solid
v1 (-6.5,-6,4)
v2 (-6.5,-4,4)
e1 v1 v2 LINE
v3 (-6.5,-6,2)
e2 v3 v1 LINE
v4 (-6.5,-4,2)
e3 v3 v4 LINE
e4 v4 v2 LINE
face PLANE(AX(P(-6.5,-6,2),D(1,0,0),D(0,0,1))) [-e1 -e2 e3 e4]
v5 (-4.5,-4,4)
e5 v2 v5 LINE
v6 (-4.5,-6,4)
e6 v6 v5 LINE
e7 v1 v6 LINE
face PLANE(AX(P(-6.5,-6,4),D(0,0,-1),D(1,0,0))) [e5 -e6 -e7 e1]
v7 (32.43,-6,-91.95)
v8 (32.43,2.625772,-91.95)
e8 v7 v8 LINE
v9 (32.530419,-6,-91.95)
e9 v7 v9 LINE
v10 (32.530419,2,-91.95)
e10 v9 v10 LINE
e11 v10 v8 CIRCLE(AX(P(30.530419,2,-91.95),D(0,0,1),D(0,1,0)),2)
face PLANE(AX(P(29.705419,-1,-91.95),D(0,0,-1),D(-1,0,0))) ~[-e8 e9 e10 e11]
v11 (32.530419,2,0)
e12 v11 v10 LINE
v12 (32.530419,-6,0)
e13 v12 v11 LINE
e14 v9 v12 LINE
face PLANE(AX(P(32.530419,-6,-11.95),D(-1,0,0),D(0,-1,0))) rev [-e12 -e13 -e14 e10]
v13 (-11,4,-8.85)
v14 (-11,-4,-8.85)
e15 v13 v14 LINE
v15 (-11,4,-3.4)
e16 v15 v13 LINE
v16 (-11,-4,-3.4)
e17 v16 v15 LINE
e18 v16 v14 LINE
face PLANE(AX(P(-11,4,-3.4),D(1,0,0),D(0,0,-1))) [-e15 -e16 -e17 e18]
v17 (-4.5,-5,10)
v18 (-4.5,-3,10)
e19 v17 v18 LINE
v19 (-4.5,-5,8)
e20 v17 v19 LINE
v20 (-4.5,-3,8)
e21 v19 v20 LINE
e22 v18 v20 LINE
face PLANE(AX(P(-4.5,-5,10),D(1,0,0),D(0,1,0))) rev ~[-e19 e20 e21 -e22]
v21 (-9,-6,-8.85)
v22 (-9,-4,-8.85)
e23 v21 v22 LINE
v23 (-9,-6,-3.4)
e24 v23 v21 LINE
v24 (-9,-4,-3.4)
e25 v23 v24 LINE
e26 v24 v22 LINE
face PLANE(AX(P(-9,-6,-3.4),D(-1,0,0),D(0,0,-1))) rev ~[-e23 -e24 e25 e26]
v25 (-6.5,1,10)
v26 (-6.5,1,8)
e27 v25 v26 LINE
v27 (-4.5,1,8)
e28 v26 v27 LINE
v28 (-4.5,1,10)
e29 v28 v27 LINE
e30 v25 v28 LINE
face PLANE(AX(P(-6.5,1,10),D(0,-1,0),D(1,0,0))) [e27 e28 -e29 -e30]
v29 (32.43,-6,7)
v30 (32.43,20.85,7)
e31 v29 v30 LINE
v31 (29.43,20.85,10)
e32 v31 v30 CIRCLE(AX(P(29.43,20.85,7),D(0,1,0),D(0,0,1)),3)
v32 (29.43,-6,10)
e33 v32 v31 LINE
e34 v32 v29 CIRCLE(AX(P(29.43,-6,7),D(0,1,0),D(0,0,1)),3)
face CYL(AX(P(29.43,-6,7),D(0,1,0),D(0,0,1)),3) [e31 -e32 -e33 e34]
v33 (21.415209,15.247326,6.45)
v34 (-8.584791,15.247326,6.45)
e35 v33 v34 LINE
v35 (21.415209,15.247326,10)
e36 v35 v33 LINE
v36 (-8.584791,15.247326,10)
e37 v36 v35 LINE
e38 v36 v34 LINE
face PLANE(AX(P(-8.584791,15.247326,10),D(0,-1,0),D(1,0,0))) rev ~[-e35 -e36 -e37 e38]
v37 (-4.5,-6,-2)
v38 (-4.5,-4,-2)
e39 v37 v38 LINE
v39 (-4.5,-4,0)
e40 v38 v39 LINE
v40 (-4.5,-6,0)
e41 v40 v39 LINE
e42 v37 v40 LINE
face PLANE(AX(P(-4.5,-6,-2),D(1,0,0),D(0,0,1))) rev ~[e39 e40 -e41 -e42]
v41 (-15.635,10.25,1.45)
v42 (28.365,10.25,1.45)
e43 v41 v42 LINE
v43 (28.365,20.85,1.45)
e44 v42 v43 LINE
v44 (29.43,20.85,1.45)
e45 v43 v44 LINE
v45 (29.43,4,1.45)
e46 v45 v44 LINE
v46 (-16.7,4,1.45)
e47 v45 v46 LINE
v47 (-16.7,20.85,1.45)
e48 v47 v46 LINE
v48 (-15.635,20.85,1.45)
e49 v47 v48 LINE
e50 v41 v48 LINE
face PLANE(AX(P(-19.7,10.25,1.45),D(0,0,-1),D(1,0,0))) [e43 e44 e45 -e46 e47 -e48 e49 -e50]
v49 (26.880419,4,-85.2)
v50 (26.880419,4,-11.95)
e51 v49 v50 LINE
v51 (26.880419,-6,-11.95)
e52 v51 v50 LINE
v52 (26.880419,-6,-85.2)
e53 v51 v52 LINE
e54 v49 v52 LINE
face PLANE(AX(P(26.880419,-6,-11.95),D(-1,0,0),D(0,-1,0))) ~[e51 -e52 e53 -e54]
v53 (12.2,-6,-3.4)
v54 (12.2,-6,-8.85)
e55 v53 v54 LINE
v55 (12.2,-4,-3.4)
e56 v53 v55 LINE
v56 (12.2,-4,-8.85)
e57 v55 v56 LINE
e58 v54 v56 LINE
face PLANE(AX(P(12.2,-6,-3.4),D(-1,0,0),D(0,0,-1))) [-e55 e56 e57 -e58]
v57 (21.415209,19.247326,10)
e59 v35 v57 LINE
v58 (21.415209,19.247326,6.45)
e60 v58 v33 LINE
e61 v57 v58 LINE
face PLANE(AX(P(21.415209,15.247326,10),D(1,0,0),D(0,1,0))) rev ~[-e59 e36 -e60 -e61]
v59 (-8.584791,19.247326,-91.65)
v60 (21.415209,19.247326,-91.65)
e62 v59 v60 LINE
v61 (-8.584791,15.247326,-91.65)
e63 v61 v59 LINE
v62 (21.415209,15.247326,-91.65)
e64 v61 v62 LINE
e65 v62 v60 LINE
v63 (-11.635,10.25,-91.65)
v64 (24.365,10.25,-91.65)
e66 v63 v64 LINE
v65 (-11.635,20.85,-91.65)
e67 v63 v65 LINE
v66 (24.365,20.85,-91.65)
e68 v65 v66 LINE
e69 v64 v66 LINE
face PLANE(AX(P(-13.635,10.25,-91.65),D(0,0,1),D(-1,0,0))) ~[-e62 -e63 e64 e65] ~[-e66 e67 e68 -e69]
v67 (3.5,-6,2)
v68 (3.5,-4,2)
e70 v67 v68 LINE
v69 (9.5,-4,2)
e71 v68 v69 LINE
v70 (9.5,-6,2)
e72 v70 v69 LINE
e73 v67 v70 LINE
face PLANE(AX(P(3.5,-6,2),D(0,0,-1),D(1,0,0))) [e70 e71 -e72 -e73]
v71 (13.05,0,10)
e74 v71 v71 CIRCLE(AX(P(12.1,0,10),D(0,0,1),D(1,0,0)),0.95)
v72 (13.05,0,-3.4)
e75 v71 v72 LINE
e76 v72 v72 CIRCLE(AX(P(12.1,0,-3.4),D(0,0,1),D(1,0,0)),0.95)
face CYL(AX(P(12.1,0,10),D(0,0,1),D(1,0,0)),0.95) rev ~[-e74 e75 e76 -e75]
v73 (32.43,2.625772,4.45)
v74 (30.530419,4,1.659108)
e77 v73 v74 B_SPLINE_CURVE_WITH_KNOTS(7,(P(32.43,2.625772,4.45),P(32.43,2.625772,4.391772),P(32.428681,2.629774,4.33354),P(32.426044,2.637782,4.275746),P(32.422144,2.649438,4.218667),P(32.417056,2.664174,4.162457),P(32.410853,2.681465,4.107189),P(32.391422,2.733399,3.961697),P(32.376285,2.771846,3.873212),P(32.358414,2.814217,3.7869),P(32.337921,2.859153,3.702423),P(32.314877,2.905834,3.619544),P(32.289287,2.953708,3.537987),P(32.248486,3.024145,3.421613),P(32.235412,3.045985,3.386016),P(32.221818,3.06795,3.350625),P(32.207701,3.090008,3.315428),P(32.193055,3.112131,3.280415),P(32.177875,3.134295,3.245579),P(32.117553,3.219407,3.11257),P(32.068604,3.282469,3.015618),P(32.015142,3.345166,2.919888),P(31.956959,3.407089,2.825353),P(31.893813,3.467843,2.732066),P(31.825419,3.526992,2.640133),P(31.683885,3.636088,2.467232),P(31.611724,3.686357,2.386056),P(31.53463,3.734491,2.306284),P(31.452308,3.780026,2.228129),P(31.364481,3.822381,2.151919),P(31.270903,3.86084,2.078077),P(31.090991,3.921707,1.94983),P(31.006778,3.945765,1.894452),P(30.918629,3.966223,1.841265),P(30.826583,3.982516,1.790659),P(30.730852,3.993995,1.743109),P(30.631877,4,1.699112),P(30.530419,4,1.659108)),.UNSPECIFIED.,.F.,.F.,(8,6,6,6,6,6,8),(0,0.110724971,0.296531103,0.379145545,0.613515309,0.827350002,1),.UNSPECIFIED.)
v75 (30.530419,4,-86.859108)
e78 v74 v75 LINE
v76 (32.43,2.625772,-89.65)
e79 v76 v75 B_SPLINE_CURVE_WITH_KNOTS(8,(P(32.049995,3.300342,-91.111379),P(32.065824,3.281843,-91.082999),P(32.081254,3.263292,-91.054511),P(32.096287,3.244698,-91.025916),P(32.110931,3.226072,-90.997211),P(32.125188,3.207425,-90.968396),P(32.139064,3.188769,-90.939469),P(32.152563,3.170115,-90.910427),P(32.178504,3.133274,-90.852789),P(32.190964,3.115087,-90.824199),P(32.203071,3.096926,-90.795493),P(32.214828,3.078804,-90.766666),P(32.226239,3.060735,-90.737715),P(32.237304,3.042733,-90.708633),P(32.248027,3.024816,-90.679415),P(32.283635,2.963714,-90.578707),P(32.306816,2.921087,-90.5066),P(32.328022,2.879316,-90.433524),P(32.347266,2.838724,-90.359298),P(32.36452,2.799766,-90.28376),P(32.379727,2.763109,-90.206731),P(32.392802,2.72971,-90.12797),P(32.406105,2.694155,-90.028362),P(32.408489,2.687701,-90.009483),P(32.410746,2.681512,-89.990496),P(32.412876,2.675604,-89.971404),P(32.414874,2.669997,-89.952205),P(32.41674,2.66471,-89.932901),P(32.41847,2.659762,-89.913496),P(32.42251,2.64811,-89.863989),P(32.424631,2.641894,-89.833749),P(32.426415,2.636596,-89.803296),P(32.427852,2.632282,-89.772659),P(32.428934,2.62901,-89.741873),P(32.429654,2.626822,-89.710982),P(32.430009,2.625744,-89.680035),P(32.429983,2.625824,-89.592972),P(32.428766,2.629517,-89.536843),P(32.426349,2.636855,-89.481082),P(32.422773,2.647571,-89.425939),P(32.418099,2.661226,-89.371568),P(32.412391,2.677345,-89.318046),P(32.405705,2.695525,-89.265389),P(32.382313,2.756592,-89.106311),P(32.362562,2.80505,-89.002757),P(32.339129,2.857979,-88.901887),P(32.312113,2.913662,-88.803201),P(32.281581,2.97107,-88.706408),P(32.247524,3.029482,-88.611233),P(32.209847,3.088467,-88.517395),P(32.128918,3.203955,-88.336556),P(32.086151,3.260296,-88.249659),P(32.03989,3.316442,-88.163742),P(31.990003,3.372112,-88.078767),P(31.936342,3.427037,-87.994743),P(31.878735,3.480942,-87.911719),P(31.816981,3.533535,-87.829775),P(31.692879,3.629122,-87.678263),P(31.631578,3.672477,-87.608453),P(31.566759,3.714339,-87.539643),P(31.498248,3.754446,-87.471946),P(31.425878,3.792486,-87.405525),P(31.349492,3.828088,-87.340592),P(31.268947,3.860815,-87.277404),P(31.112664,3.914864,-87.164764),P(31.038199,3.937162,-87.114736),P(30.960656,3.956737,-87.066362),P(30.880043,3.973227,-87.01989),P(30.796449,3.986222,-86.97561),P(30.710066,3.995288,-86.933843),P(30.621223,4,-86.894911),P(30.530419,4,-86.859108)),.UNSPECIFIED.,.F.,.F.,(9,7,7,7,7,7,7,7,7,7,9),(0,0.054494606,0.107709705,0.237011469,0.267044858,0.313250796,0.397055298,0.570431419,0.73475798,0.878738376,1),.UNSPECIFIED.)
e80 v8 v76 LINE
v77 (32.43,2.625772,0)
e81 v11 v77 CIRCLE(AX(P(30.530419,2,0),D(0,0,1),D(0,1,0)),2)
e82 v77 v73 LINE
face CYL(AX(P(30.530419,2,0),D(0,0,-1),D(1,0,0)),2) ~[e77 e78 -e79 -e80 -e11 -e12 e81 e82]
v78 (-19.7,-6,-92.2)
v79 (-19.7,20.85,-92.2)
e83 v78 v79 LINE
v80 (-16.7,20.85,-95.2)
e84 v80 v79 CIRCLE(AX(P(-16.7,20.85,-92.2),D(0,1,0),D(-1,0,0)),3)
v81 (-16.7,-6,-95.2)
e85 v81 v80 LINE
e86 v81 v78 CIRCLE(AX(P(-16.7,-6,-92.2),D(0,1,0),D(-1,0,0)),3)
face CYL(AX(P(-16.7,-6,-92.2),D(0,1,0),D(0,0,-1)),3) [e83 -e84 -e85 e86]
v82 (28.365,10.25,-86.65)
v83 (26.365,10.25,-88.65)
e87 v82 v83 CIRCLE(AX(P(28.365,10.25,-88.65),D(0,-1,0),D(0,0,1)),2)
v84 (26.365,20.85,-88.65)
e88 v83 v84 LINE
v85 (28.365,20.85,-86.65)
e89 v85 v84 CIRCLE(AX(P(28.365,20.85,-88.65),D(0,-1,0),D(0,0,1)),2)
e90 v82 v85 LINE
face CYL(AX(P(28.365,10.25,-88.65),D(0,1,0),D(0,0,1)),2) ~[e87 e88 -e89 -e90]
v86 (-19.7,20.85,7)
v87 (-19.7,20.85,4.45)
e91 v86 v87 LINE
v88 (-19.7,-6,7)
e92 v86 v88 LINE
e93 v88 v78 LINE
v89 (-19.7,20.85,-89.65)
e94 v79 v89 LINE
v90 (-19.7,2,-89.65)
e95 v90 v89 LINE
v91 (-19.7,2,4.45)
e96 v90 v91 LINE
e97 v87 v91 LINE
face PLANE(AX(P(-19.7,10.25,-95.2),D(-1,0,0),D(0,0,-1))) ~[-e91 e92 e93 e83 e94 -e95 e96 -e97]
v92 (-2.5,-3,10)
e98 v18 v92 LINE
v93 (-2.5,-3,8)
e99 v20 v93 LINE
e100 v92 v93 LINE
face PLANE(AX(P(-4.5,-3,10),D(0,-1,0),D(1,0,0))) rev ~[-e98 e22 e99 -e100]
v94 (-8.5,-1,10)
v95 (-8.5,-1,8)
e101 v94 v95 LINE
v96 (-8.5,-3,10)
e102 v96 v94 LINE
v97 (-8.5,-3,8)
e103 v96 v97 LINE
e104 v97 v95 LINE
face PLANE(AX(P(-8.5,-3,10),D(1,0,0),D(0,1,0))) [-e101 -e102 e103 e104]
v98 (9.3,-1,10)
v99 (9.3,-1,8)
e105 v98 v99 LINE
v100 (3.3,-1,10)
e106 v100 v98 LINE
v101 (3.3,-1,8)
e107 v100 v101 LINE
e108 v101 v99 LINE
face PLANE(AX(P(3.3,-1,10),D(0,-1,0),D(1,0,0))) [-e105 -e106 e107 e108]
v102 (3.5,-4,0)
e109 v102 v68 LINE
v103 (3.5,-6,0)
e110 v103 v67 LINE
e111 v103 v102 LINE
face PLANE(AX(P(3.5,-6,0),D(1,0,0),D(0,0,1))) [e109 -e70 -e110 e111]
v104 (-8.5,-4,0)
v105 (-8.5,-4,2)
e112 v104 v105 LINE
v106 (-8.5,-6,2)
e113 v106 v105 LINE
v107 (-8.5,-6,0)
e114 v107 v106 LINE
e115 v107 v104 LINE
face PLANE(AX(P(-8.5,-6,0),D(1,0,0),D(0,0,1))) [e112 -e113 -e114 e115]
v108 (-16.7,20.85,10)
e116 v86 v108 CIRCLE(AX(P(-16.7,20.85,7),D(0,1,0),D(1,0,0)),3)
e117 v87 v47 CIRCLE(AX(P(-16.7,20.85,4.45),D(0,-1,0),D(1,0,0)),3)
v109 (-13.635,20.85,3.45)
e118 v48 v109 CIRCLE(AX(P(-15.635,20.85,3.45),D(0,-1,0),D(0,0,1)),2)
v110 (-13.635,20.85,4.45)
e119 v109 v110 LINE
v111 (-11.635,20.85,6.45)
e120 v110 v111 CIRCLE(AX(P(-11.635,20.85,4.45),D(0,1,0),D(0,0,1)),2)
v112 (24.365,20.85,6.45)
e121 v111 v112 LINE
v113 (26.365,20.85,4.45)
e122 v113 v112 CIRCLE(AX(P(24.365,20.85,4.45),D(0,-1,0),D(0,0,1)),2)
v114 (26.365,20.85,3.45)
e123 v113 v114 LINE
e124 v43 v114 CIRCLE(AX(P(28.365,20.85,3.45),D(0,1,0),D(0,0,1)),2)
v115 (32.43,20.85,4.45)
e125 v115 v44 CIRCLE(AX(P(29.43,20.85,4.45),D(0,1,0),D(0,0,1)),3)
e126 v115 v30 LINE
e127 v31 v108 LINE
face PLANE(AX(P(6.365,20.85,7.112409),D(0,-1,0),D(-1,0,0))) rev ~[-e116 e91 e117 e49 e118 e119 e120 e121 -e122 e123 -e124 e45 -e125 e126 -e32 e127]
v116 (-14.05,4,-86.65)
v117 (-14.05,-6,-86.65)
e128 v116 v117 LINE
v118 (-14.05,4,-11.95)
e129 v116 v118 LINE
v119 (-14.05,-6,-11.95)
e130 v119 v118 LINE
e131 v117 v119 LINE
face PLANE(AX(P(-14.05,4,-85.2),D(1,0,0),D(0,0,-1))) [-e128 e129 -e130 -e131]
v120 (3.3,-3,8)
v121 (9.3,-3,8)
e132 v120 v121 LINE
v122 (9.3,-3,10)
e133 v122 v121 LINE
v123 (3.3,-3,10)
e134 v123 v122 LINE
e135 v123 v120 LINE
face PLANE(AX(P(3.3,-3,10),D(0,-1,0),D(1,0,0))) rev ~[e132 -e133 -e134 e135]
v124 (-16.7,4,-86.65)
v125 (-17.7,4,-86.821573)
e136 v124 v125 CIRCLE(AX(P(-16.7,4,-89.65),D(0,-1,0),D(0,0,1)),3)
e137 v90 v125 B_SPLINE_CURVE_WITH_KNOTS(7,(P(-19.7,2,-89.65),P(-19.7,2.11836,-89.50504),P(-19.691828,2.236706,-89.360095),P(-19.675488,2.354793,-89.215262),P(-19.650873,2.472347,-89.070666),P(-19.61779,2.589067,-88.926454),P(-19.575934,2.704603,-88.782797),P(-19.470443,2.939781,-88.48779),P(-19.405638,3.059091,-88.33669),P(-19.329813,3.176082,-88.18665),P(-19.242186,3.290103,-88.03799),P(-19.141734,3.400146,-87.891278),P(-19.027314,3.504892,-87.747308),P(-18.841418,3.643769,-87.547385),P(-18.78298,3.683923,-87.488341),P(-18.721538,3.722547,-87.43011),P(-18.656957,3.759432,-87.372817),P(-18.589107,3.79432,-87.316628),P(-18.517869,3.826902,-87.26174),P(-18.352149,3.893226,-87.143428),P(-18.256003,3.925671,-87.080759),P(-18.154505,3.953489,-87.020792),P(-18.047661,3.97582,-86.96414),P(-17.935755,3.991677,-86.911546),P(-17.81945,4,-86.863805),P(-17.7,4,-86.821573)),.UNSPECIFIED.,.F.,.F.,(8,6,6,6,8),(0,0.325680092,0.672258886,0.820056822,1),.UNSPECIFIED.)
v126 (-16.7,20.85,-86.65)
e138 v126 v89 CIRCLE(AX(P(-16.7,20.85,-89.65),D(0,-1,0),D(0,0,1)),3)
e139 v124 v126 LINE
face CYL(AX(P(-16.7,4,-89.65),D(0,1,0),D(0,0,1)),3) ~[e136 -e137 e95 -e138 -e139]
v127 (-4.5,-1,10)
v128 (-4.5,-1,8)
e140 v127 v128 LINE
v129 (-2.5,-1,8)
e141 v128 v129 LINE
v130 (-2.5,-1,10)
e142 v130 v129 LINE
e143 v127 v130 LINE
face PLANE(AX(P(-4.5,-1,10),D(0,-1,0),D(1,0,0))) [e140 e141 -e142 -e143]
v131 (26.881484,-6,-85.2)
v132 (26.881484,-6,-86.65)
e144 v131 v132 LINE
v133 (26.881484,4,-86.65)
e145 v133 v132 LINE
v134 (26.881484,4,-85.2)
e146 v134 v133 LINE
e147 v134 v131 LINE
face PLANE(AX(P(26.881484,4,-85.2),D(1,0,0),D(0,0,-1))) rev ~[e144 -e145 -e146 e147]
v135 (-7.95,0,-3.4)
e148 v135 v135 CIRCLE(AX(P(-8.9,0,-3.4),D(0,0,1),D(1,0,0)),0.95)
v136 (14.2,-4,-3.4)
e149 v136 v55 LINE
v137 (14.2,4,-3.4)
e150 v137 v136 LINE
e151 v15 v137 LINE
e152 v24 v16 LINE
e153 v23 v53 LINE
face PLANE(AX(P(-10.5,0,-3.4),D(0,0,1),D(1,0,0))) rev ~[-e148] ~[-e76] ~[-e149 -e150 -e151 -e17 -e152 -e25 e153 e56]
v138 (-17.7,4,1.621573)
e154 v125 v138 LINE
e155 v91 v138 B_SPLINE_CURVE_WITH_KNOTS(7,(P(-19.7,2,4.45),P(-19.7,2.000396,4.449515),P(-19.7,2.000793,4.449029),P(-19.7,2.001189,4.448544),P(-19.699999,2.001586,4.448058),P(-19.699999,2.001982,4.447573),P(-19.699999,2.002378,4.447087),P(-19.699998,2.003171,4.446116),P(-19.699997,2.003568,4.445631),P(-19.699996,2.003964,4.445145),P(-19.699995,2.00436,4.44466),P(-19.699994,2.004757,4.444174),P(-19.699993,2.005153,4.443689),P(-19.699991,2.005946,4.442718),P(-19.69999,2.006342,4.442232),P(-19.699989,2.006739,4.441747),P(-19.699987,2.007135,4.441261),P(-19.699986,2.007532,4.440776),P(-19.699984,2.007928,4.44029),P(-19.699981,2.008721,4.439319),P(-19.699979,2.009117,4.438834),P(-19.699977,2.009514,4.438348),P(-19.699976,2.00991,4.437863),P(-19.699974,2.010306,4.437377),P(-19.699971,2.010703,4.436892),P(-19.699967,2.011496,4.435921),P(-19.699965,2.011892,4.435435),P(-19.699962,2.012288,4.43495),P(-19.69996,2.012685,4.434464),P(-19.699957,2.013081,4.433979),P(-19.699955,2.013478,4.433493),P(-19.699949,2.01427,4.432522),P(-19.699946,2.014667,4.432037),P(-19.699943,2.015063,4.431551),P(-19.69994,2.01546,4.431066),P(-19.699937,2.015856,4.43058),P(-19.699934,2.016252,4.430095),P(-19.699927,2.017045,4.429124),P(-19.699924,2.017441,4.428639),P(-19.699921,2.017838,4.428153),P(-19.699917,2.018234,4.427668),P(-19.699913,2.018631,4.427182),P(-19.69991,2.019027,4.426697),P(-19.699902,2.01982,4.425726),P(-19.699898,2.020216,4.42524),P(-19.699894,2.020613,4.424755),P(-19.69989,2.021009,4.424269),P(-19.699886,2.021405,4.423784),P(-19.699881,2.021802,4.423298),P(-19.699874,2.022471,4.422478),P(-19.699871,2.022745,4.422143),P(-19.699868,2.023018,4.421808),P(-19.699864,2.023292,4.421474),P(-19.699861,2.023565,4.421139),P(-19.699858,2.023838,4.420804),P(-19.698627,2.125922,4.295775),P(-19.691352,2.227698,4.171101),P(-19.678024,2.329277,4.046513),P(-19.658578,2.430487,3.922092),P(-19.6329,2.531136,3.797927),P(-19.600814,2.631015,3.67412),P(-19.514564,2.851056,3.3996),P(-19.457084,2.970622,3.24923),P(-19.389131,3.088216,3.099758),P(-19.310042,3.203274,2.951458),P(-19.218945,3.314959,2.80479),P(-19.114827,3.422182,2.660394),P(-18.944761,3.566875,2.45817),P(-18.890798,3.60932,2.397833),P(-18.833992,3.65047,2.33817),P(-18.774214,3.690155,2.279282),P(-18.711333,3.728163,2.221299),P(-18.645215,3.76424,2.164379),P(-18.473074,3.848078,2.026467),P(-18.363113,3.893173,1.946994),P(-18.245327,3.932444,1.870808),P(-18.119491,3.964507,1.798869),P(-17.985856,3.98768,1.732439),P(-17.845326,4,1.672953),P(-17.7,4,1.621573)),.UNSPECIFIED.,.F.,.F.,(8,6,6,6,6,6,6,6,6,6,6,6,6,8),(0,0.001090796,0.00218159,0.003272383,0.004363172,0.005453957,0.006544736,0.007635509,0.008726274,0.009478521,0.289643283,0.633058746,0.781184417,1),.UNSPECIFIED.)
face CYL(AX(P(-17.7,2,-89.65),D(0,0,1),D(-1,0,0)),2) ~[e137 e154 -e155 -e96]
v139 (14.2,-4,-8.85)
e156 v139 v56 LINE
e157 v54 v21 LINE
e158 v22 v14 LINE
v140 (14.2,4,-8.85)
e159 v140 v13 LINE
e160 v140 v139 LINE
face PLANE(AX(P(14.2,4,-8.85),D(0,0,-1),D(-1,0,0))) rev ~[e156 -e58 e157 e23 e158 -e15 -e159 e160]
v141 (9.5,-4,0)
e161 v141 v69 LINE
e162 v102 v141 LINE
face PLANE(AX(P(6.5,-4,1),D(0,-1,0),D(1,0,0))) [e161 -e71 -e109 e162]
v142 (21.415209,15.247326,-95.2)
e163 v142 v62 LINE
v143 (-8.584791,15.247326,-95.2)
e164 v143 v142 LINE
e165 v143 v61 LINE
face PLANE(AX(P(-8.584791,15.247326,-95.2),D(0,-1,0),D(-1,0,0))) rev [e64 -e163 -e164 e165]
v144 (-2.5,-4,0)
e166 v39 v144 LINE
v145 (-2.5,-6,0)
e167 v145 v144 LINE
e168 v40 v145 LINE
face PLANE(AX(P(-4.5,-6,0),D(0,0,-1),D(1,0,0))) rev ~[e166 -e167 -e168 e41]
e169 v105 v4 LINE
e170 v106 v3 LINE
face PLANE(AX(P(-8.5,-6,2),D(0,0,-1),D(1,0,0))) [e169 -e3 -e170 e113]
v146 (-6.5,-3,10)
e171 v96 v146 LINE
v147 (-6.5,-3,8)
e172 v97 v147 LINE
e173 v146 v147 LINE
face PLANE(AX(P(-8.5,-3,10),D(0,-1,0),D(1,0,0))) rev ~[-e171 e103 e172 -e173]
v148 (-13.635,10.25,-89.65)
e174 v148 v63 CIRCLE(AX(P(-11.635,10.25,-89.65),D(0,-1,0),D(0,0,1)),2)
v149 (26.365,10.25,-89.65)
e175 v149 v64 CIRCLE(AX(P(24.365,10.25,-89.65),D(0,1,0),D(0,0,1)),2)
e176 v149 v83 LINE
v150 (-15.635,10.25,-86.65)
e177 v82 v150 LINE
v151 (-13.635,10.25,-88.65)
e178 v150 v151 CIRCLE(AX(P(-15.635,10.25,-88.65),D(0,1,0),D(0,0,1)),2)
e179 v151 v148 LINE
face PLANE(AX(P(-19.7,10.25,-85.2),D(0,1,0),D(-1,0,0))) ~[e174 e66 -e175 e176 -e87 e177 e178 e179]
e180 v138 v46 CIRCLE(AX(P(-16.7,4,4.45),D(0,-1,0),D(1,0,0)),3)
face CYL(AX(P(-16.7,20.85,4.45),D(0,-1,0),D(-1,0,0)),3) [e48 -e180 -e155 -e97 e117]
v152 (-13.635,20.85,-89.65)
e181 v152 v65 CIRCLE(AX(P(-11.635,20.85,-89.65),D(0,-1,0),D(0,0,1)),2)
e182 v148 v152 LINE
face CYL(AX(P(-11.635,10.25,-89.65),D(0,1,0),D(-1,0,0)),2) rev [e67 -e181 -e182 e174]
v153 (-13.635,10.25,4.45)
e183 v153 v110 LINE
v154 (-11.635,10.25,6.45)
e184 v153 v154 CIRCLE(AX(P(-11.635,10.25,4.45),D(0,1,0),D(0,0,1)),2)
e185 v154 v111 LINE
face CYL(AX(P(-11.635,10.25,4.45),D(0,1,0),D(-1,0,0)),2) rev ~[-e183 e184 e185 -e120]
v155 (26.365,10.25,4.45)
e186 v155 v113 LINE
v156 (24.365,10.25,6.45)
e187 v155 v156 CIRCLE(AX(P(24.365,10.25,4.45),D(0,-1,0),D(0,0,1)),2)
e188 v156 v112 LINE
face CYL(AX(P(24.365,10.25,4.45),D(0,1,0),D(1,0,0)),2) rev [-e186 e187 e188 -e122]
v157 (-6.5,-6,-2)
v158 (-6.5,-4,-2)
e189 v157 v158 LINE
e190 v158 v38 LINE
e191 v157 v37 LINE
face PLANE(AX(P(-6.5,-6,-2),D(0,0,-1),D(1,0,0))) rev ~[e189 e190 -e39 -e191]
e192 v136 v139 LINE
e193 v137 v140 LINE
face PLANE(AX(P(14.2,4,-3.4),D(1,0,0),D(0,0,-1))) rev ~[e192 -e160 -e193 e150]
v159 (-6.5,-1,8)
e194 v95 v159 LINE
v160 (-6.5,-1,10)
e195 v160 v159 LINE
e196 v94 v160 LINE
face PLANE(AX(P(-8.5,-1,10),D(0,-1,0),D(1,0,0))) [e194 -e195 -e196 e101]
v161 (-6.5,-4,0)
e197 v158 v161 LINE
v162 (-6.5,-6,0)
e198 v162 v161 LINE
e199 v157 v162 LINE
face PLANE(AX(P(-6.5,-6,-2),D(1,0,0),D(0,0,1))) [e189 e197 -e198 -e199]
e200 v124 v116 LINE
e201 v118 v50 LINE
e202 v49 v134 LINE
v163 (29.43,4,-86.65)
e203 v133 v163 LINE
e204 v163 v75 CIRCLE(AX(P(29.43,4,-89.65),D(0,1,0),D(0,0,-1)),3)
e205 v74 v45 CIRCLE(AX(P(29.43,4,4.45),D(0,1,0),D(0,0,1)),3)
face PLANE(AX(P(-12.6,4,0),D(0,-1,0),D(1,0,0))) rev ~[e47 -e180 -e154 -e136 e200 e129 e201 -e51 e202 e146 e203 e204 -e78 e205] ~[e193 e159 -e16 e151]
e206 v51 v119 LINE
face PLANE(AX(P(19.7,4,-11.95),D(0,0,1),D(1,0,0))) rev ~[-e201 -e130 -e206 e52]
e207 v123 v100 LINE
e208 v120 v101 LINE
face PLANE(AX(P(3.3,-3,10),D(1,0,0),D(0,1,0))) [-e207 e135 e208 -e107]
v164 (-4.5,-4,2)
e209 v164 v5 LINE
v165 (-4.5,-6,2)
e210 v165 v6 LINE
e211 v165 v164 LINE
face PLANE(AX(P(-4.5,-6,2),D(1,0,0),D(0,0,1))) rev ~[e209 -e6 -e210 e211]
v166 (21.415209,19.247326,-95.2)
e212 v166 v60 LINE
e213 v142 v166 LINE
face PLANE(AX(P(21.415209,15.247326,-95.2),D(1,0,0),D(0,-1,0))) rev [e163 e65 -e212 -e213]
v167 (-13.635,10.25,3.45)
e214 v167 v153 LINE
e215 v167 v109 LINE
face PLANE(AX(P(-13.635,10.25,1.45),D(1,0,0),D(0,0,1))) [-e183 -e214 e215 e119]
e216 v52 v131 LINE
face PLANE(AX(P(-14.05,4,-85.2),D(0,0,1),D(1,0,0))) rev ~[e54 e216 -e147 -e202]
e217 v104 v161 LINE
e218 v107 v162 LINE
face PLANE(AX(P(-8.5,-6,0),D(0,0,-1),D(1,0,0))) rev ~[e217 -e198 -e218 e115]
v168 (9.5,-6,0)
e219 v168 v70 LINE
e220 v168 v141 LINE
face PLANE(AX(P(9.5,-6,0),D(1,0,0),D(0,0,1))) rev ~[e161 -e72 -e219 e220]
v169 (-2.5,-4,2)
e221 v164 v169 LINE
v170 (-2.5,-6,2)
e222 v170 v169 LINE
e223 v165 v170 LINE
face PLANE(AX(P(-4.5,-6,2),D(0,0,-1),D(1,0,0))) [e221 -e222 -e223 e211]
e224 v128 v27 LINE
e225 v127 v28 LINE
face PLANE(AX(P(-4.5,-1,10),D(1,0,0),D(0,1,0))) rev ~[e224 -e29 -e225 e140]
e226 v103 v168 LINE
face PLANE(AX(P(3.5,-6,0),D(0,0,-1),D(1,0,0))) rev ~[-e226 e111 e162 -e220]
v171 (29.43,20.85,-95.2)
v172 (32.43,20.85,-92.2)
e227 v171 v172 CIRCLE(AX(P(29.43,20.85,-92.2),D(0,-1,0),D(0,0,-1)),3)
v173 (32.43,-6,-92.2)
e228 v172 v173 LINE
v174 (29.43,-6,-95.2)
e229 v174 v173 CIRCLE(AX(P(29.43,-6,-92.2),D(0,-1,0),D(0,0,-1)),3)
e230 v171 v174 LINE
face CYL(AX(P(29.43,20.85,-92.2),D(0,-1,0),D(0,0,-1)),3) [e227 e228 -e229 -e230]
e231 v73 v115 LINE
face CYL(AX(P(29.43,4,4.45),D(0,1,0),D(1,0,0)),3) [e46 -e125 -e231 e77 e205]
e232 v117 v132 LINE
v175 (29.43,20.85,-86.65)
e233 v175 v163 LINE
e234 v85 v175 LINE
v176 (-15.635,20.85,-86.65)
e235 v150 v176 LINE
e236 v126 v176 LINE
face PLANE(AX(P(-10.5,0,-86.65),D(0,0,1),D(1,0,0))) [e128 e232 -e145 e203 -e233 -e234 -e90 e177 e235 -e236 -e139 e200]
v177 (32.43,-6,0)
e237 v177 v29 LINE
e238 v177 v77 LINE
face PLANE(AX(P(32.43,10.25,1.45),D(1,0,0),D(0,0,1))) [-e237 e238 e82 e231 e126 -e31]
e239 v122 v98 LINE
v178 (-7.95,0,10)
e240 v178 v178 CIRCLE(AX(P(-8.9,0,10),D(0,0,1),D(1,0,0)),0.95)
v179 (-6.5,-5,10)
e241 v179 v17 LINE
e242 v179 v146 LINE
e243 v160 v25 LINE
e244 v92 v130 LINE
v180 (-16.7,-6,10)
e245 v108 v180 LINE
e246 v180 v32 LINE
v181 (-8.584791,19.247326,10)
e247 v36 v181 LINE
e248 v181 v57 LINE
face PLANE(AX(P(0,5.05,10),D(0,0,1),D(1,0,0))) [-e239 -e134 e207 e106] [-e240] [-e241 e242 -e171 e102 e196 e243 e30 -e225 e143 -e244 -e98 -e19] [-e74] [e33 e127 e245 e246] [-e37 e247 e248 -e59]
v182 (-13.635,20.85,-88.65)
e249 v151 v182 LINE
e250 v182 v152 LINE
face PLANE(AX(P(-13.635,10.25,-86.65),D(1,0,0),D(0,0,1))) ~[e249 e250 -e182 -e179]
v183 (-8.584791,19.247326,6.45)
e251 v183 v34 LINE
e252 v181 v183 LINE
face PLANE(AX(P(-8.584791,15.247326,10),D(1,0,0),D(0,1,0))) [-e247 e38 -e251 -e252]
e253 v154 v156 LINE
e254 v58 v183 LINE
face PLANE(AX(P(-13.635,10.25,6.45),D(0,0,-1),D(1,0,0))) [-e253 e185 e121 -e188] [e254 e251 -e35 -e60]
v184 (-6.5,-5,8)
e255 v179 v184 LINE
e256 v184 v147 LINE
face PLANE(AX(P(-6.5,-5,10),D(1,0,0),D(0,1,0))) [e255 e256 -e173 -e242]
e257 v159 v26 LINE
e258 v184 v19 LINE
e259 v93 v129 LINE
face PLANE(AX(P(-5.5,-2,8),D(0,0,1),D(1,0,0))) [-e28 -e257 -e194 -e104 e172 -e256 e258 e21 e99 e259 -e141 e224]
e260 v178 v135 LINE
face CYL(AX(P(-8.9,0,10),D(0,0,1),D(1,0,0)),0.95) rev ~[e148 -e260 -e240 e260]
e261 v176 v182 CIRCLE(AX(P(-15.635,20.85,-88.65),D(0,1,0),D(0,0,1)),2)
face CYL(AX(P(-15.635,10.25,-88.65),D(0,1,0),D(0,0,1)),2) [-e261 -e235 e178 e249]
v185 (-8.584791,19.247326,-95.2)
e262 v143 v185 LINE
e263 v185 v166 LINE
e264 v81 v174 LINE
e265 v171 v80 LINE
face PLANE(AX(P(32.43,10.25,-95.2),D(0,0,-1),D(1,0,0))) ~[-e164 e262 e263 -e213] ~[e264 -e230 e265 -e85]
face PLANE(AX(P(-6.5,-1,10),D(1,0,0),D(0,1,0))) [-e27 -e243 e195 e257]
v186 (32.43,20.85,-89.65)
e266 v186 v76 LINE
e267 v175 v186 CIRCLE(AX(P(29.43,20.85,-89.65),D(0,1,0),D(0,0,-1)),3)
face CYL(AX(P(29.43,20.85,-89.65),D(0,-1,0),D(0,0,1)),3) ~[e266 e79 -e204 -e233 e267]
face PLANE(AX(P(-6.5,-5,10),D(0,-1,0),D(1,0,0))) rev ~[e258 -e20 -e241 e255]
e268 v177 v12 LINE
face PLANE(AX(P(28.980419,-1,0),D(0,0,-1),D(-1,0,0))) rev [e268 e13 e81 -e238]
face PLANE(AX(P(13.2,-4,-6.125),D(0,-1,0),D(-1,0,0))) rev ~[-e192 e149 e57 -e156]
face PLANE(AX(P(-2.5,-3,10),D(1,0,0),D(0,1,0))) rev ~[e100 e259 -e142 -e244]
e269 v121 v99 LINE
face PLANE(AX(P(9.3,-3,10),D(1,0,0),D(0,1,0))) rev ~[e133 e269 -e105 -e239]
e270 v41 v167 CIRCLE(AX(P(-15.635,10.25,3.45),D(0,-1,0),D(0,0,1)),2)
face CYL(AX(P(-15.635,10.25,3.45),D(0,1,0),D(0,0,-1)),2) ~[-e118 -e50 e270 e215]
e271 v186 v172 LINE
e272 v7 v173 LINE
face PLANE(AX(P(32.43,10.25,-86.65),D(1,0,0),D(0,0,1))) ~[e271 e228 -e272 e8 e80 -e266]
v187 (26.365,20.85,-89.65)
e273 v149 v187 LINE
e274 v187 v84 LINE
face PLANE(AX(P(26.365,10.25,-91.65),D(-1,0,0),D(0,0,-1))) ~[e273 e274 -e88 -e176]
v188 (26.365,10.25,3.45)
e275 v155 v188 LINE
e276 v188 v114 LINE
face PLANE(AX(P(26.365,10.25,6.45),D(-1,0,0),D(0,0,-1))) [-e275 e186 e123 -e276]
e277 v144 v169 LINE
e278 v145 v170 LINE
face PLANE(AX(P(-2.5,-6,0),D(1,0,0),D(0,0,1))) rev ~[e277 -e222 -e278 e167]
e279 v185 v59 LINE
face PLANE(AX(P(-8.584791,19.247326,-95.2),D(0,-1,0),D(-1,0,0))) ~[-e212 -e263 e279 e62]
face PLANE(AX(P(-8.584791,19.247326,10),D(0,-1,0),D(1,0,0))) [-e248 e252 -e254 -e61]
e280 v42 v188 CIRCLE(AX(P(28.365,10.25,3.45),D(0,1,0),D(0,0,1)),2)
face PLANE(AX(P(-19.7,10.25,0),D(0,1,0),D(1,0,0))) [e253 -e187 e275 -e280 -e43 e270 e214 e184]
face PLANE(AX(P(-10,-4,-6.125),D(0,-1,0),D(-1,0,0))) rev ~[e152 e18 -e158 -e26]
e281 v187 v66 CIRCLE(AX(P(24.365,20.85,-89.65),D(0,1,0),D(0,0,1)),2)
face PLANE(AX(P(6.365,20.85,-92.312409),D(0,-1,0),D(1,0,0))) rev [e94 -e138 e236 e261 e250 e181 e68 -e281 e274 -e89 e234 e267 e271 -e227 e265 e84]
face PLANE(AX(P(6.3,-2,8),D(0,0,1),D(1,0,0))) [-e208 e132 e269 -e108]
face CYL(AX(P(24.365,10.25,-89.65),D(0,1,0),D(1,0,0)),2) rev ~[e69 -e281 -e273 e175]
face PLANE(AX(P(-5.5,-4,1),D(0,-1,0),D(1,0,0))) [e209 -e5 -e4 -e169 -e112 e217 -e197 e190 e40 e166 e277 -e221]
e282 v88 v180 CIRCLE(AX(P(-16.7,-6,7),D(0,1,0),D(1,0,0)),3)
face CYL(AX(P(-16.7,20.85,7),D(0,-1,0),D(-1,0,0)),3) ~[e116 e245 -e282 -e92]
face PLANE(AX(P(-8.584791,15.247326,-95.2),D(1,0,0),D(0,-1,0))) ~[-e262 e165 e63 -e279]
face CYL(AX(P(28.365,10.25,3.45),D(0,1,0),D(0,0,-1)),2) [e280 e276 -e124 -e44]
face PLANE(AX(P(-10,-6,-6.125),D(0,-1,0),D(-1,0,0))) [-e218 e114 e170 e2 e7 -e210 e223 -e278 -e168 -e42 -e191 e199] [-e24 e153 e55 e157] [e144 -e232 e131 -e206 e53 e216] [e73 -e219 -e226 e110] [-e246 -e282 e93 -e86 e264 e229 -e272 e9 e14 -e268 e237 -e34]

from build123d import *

# Parameters (mm, degrees)
SKETCH_1_W               = 52.13
SKETCH_1_H               = 16.25
SKETCH_1_R               = 0.95
EXTRUDE_1_DEPTH          = 10
SKETCH_2_W               = 7.1
SKETCH_2_H               = 10
EXTRUDE_2_DEPTH          = 11.95
EXTRUDE_3_DEPTH          = 10.6
SKETCH_4_W               = 30
SKETCH_4_H               = 4
CUT_EXTRUDE_1_DEPTH      = 11
SKETCH_6_W               = 5.65
SKETCH_6_H               = 10
EXTRUDE_4_DEPTH          = 80
CUT_EXTRUDE_2_DEPTH      = 80
CUT_EXTRUDE_2_DEPTH_BACK = 6.25
SKETCH_7_W               = 52.13
SKETCH_7_H               = 1.45
SKETCH_7_H_2             = 1.85
SKETCH_8_W               = 11.056524021
SKETCH_8_H               = 11.95
CUT_EXTRUDE_3_DEPTH      = 103.005836269
SKETCH_9_W               = 3.1
SKETCH_9_H               = 10
EXTRUDE_5_DEPTH          = 25.2
SKETCH_10_W              = 2
SKETCH_10_H              = 2
EXTRUDE_6_DEPTH          = 8.85
SKETCH_11_W              = 40.93148405
SKETCH_11_H              = 1.45
CUT_EXTRUDE_4_DEPTH      = 103.005836269
SKETCH_12_W              = 5.73041858
SKETCH_12_H              = 11.95
EXTRUDE_7_DEPTH          = 10
FILLET_1_R               = 3
FILLET_2_R               = 2
SKETCH_13_R              = 1.05
CUT_EXTRUDE_5_DEPTH      = 105.087334213
FILLET_3_R               = 2
SKETCH_14_R              = 0.95
EXTRUDE_8_DEPTH          = 3.4
SKETCH_15_W              = 23.6
SKETCH_15_H              = 5.45
SKETCH_15_W_2            = 1.6
EXTRUDE_9_DEPTH          = 10
SKETCH_15_3_W            = 23.6
SKETCH_15_3_H            = 5.45
SKETCH_15_3_W_2          = 1.6
CUT_EXTRUDE_6_DEPTH      = 103.005836318
SKETCH_16_W              = 2
SKETCH_16_H              = 5.45
EXTRUDE_10_DEPTH         = 2
EXTRUDE_START            = -13.4
SKETCH_17_R              = 0.95
EXTRUDE_11_DEPTH         = 13.4
SKETCH_17_4_R            = 0.95
SKETCH_17_4_R_2          = 1.05
EXTRUDE_12_DEPTH         = 8.55
CUT_EXTRUDE_7_REACH      = 114.071
SKETCH_18_R              = 0.95
SKETCH_19_R              = 0.95
EXTRUDE_13_DEPTH         = 8.55
SKETCH_20_W              = 6
SKETCH_20_H              = 2
SKETCH_20_W_2            = 2
SKETCH_20_H_2            = 6
CUT_EXTRUDE_1_2_DEPTH    = 2
SKETCH_21_W              = 6
SKETCH_21_H              = 2
SKETCH_21_W_2            = 2
SKETCH_21_H_2            = 6
CUT_EXTRUDE_2_2_DEPTH    = 2


with BuildPart() as part:
    # 草图1 → 凸台-拉伸1 (new body)
    with BuildSketch(Plane.XY):
        with Locations((6.365, 2.125)):
            Rectangle(SKETCH_1_W, SKETCH_1_H)
        with Locations((-10.5, 0)):
            Circle(SKETCH_1_R, mode=Mode.SUBTRACT)
        with Locations(Location((10.5, 0, 0), (0, 0, 180))):
            Circle(SKETCH_1_R, mode=Mode.SUBTRACT)
    extrude_1 = extrude(amount=EXTRUDE_1_DEPTH)

    # 草图2 → 凸台-拉伸2 (add)
    with BuildSketch(Plane(origin=(0, 0, 0), x_dir=(-1, 0, 0), z_dir=(0, 0, -1))):
        with Locations((16.15, -1)):
            Rectangle(SKETCH_2_W, SKETCH_2_H)
        with Locations((-16.15, -1)):
            Rectangle(SKETCH_2_W, SKETCH_2_H)
    extrude_2 = extrude(amount=EXTRUDE_2_DEPTH)

    # 草图3 → 凸台-拉伸3 (add)
    with BuildSketch(Plane(origin=(0, 10.25, 0), x_dir=(1, 0, 0), z_dir=(0, 1, 0))):
        Polygon((32.43, -10), (-19.7, -10), (-19.7, -1.45), (-13.635, -1.45), (-13.635, -6.45), (26.365, -6.45), (26.365, -1.45), (32.43, -1.45), align=None)
    extrude_3 = extrude(amount=EXTRUDE_3_DEPTH)

    # 草图4 → Cut-Extrude 1 (cut)
    with BuildSketch(Plane.XY.offset(10)):
        with Locations((6.41520929, 17.24732554)):
            Rectangle(SKETCH_4_W, SKETCH_4_H)
    cut_extrude_1 = extrude(amount=-CUT_EXTRUDE_1_DEPTH, mode=Mode.SUBTRACT)

    # 草图6 → 凸台-拉伸4 (add)
    with BuildSketch(Plane(origin=(0, 0, -11.95), x_dir=(-1, 0, 0), z_dir=(0, 0, -1))):
        with Locations((16.875, -1)):
            Rectangle(SKETCH_6_W, SKETCH_6_H)
    extrude_4 = extrude(amount=EXTRUDE_4_DEPTH)

    # 镜向1: 凸台-拉伸2, 凸台-拉伸4 across plane
    add(extrude_2.mirror(Plane.ZY.offset(-6.41520929)))
    add(extrude_4.mirror(Plane.ZY.offset(-6.41520929)))

    # 镜向2: 凸台-拉伸1, 凸台-拉伸3, Cut-Extrude 1 across plane
    add(extrude_1.mirror(Plane.XY.offset(-42.6)))
    add(extrude_3.mirror(Plane.XY.offset(-42.6)))
    add(cut_extrude_1.mirror(Plane.XY.offset(-42.6)), mode=Mode.SUBTRACT)

    # 草图7 → Cut-Extrude 2 (cut, two sides: drawn at the far end of the back side and taken through both)
    with BuildSketch(Plane(origin=(0, 10.25, 0), x_dir=(1, 0, 0), z_dir=(0, 1, 0)).offset(-CUT_EXTRUDE_2_DEPTH_BACK)):
        with Locations((6.365, -0.725)):
            Rectangle(SKETCH_7_W, SKETCH_7_H)
        with Locations((6.365, 85.725)):
            Rectangle(SKETCH_7_W, SKETCH_7_H_2)
    extrude(amount=CUT_EXTRUDE_2_DEPTH + CUT_EXTRUDE_2_DEPTH_BACK, mode=Mode.SUBTRACT)

    # 草图8 → 切除-拉伸3 (cut, through all)
    with BuildSketch(Plane(origin=(0, 4, 0), x_dir=(1, 0, 0), z_dir=(0, 1, 0))):
        with Locations((-1.34131941, 5.975)):
            Rectangle(SKETCH_8_W, SKETCH_8_H)
    extrude(amount=-CUT_EXTRUDE_3_DEPTH, mode=Mode.SUBTRACT)

    # 草图9 → 凸台-拉伸5 (add)
    with BuildSketch(Plane.ZY.offset(-12.6)):
        with Locations((-10.4, -1)):
            Rectangle(SKETCH_9_W, SKETCH_9_H)
    extrude(amount=EXTRUDE_5_DEPTH)

    # 草图10 → 凸台-拉伸6 (add)
    with BuildSketch(Plane(origin=(0, 0, 0), x_dir=(-1, 0, 0), z_dir=(0, 0, -1))):
        with Locations((-11.6, -5)):
            Rectangle(SKETCH_10_W, SKETCH_10_H)
        with Locations((11.6, -5)):
            Rectangle(SKETCH_10_W, SKETCH_10_H)
    extrude(amount=EXTRUDE_6_DEPTH)

    # 草图11 → 切除-拉伸4 (cut, through all)
    with BuildSketch(Plane(origin=(0, 4, 0), x_dir=(1, 0, 0), z_dir=(0, 1, 0))):
        with Locations((6.415742025, 85.925)):
            Rectangle(SKETCH_11_W, SKETCH_11_H)
    extrude(amount=-CUT_EXTRUDE_4_DEPTH, mode=Mode.SUBTRACT)

    # 草图12 → 凸台-拉伸7 (add)
    with BuildSketch(Plane(origin=(0, 4, 0), x_dir=(1, 0, 0), z_dir=(0, 1, 0))):
        with Locations((22.56520929, 5.975)):
            Rectangle(SKETCH_12_W, SKETCH_12_H)
    extrude(amount=-EXTRUDE_7_DEPTH)

    # 圆角1
    fillet_1_edges = [part.edges().sort_by_distance(p)[0] for p in [
        (32.43, 7.425, 10),
        (-19.7, 7.425, -95.2),
        (32.43, 7.425, -95.2),
        (-19.7, 12.425, -86.65),
        (32.43, 12.425, -86.65),
        (-19.7, 7.425, 10),
        (-19.7, 12.425, 1.45),
        (32.43, 12.425, 1.45),
    ]]
    fillet(fillet_1_edges, radius=FILLET_1_R)

    # 圆角2
    fillet_2_edges = [part.edges().sort_by_distance(p)[0] for p in [
        (32.53041858, 4, -45.975),
        (-19.7, 4, -42.6),
    ]]
    fillet(fillet_2_edges, radius=FILLET_2_R)

    # 草图13 → 切除-拉伸5 (cut, through all)
    with BuildSketch(Plane(origin=(0, 0, 1.45), x_dir=(-1, 0, 0), z_dir=(0, 0, -1))):
        with Locations((0, 5.05)):
            Circle(SKETCH_13_R)
    extrude(amount=-CUT_EXTRUDE_5_DEPTH, mode=Mode.SUBTRACT)

    # 圆角3
    fillet_3_edges = [part.edges().sort_by_distance(p)[0] for p in [
        (-13.635, 15.55, -86.65),
        (-13.635, 15.55, -91.65),
        (26.365, 15.55, -91.65),
        (26.365, 15.55, -86.65),
        (26.365, 15.55, 1.45),
        (26.365, 15.55, 6.45),
        (-13.635, 15.55, 6.45),
        (-13.635, 15.55, 1.45),
    ]]
    fillet(fillet_3_edges, radius=FILLET_3_R)

    # 草图14 → 凸台-拉伸8 (add)
    with BuildSketch(Plane(origin=(0, 0, 0), x_dir=(-1, 0, 0), z_dir=(0, 0, -1))):
        Polygon((10.6, -4), (12.6, -4), (12.6, 4), (-12.6, 4), (-12.6, -4), (-10.6, -4), (-10.6, -6), (10.6, -6), align=None)
        with Locations((-10.5, 0)):
            Circle(SKETCH_14_R, mode=Mode.SUBTRACT)
        with Locations((10.5, 0)):
            Circle(SKETCH_14_R, mode=Mode.SUBTRACT)
    extrude(amount=EXTRUDE_8_DEPTH)

    # 草图15 → 凸台-拉伸9 (add, through all)
    with BuildSketch(Plane(origin=(0, 4, 0), x_dir=(1, 0, 0), z_dir=(0, 1, 0))):
        with Locations((0.8, 6.125)):
            Rectangle(SKETCH_15_W, SKETCH_15_H)
        with Locations((-11.8, 6.125)):
            Rectangle(SKETCH_15_W_2, SKETCH_15_H)
        with Locations((13.4, 6.125)):
            Rectangle(SKETCH_15_W_2, SKETCH_15_H)
    extrude(amount=-EXTRUDE_9_DEPTH)

    # 草图15<3> → 切除-拉伸6 (cut, through all)
    with BuildSketch(Plane(origin=(0, 4, 0), x_dir=(1, 0, 0), z_dir=(0, 1, 0))):
        with Locations((0.8, 6.125)):
            Rectangle(SKETCH_15_3_W, SKETCH_15_3_H)
        with Locations((13.4, 6.125)):
            Rectangle(SKETCH_15_3_W_2, SKETCH_15_3_H)
    extrude(amount=-CUT_EXTRUDE_6_DEPTH, mode=Mode.SUBTRACT)

    # 草图16 → 凸台-拉伸10 (add)
    with BuildSketch(Plane(origin=(0, -6, 0), x_dir=(-1, 0, 0), z_dir=(0, -1, 0))):
        with Locations((10, 6.125)):
            Rectangle(SKETCH_16_W, SKETCH_16_H)
        with Locations((-13.2, 6.125)):
            Rectangle(SKETCH_16_W, SKETCH_16_H)
    extrude(amount=-EXTRUDE_10_DEPTH)

    # 草图17 → 凸台-拉伸11 (add)
    with BuildSketch(Plane.XY.offset(10).offset(EXTRUDE_START)):
        with Locations((-10.5, 0)):
            Circle(SKETCH_17_R)
        with Locations(Location((10.5, 0, 0), (0, 0, 180))):
            Circle(SKETCH_17_R)
    extrude(amount=EXTRUDE_11_DEPTH)

    # 草图17<4> → 凸台-拉伸12 (add)
    with BuildSketch(Plane.XY.offset(10)):
        with Locations(Location((10.5, 0, 0), (0, 0, 180))):
            Circle(SKETCH_17_4_R)
        with Locations((0, 5.05)):
            Circle(SKETCH_17_4_R_2)
        with Locations((-10.5, 0)):
            Circle(SKETCH_17_4_R)
    extrude(amount=-EXTRUDE_12_DEPTH)

    # 草图18 → 切除-拉伸7 (cut, up to next)
    with BuildSketch(Plane.XY.offset(10), mode=Mode.PRIVATE) as cut_extrude_7_sk1:
        with Locations((12.1, 0)):
            Circle(SKETCH_18_R)
    cut_extrude_7_tool1 = extrude(cut_extrude_7_sk1.sketch, amount=-CUT_EXTRUDE_7_REACH, mode=Mode.PRIVATE) & part.part
    # 草图18 → 切除-拉伸7 (cut, up to next)
    with BuildSketch(Plane.XY.offset(10), mode=Mode.PRIVATE) as cut_extrude_7_sk2:
        with Locations((-8.9, 0)):
            Circle(SKETCH_18_R)
    cut_extrude_7_tool2 = extrude(cut_extrude_7_sk2.sketch, amount=-CUT_EXTRUDE_7_REACH, mode=Mode.PRIVATE) & part.part
    add(cut_extrude_7_tool1.solids().sort_by_distance((12.1, 0, 10))[0], mode=Mode.SUBTRACT)
    add(cut_extrude_7_tool2.solids().sort_by_distance((-8.9, 0, 10))[0], mode=Mode.SUBTRACT)

    # 草图19 → 凸台-拉伸13 (add, through all)
    with BuildSketch(Plane.XY.offset(-86.65)):
        with Locations((-10.5, 0)):
            Circle(SKETCH_19_R)
        with Locations((10.5, 0)):
            Circle(SKETCH_19_R)
    extrude(amount=-EXTRUDE_13_DEPTH)

    # 草图20 → Cut-Extrude 1 2 (cut)
    with BuildSketch(Plane.XZ.offset(6)):
        with Locations((-5.5, 1)):
            Rectangle(SKETCH_20_W, SKETCH_20_H)
        with Locations((-5.5, 1)):
            Rectangle(SKETCH_20_W_2, SKETCH_20_H_2)
        with Locations((6.5, 1)):
            Rectangle(SKETCH_20_W, SKETCH_20_H)
    extrude(amount=-CUT_EXTRUDE_1_2_DEPTH, mode=Mode.SUBTRACT)

    # 草图21 → Cut-Extrude 2 2 (cut)
    with BuildSketch(Plane.XY.offset(10)):
        with Locations((-5.5, -2)):
            Rectangle(SKETCH_21_W, SKETCH_21_H)
        with Locations((-5.5, -2)):
            Rectangle(SKETCH_21_W_2, SKETCH_21_H_2)
        with Locations((6.3, -2)):
            Rectangle(SKETCH_21_W, SKETCH_21_H)
    extrude(amount=-CUT_EXTRUDE_2_2_DEPTH, mode=Mode.SUBTRACT)


solid = part.part
